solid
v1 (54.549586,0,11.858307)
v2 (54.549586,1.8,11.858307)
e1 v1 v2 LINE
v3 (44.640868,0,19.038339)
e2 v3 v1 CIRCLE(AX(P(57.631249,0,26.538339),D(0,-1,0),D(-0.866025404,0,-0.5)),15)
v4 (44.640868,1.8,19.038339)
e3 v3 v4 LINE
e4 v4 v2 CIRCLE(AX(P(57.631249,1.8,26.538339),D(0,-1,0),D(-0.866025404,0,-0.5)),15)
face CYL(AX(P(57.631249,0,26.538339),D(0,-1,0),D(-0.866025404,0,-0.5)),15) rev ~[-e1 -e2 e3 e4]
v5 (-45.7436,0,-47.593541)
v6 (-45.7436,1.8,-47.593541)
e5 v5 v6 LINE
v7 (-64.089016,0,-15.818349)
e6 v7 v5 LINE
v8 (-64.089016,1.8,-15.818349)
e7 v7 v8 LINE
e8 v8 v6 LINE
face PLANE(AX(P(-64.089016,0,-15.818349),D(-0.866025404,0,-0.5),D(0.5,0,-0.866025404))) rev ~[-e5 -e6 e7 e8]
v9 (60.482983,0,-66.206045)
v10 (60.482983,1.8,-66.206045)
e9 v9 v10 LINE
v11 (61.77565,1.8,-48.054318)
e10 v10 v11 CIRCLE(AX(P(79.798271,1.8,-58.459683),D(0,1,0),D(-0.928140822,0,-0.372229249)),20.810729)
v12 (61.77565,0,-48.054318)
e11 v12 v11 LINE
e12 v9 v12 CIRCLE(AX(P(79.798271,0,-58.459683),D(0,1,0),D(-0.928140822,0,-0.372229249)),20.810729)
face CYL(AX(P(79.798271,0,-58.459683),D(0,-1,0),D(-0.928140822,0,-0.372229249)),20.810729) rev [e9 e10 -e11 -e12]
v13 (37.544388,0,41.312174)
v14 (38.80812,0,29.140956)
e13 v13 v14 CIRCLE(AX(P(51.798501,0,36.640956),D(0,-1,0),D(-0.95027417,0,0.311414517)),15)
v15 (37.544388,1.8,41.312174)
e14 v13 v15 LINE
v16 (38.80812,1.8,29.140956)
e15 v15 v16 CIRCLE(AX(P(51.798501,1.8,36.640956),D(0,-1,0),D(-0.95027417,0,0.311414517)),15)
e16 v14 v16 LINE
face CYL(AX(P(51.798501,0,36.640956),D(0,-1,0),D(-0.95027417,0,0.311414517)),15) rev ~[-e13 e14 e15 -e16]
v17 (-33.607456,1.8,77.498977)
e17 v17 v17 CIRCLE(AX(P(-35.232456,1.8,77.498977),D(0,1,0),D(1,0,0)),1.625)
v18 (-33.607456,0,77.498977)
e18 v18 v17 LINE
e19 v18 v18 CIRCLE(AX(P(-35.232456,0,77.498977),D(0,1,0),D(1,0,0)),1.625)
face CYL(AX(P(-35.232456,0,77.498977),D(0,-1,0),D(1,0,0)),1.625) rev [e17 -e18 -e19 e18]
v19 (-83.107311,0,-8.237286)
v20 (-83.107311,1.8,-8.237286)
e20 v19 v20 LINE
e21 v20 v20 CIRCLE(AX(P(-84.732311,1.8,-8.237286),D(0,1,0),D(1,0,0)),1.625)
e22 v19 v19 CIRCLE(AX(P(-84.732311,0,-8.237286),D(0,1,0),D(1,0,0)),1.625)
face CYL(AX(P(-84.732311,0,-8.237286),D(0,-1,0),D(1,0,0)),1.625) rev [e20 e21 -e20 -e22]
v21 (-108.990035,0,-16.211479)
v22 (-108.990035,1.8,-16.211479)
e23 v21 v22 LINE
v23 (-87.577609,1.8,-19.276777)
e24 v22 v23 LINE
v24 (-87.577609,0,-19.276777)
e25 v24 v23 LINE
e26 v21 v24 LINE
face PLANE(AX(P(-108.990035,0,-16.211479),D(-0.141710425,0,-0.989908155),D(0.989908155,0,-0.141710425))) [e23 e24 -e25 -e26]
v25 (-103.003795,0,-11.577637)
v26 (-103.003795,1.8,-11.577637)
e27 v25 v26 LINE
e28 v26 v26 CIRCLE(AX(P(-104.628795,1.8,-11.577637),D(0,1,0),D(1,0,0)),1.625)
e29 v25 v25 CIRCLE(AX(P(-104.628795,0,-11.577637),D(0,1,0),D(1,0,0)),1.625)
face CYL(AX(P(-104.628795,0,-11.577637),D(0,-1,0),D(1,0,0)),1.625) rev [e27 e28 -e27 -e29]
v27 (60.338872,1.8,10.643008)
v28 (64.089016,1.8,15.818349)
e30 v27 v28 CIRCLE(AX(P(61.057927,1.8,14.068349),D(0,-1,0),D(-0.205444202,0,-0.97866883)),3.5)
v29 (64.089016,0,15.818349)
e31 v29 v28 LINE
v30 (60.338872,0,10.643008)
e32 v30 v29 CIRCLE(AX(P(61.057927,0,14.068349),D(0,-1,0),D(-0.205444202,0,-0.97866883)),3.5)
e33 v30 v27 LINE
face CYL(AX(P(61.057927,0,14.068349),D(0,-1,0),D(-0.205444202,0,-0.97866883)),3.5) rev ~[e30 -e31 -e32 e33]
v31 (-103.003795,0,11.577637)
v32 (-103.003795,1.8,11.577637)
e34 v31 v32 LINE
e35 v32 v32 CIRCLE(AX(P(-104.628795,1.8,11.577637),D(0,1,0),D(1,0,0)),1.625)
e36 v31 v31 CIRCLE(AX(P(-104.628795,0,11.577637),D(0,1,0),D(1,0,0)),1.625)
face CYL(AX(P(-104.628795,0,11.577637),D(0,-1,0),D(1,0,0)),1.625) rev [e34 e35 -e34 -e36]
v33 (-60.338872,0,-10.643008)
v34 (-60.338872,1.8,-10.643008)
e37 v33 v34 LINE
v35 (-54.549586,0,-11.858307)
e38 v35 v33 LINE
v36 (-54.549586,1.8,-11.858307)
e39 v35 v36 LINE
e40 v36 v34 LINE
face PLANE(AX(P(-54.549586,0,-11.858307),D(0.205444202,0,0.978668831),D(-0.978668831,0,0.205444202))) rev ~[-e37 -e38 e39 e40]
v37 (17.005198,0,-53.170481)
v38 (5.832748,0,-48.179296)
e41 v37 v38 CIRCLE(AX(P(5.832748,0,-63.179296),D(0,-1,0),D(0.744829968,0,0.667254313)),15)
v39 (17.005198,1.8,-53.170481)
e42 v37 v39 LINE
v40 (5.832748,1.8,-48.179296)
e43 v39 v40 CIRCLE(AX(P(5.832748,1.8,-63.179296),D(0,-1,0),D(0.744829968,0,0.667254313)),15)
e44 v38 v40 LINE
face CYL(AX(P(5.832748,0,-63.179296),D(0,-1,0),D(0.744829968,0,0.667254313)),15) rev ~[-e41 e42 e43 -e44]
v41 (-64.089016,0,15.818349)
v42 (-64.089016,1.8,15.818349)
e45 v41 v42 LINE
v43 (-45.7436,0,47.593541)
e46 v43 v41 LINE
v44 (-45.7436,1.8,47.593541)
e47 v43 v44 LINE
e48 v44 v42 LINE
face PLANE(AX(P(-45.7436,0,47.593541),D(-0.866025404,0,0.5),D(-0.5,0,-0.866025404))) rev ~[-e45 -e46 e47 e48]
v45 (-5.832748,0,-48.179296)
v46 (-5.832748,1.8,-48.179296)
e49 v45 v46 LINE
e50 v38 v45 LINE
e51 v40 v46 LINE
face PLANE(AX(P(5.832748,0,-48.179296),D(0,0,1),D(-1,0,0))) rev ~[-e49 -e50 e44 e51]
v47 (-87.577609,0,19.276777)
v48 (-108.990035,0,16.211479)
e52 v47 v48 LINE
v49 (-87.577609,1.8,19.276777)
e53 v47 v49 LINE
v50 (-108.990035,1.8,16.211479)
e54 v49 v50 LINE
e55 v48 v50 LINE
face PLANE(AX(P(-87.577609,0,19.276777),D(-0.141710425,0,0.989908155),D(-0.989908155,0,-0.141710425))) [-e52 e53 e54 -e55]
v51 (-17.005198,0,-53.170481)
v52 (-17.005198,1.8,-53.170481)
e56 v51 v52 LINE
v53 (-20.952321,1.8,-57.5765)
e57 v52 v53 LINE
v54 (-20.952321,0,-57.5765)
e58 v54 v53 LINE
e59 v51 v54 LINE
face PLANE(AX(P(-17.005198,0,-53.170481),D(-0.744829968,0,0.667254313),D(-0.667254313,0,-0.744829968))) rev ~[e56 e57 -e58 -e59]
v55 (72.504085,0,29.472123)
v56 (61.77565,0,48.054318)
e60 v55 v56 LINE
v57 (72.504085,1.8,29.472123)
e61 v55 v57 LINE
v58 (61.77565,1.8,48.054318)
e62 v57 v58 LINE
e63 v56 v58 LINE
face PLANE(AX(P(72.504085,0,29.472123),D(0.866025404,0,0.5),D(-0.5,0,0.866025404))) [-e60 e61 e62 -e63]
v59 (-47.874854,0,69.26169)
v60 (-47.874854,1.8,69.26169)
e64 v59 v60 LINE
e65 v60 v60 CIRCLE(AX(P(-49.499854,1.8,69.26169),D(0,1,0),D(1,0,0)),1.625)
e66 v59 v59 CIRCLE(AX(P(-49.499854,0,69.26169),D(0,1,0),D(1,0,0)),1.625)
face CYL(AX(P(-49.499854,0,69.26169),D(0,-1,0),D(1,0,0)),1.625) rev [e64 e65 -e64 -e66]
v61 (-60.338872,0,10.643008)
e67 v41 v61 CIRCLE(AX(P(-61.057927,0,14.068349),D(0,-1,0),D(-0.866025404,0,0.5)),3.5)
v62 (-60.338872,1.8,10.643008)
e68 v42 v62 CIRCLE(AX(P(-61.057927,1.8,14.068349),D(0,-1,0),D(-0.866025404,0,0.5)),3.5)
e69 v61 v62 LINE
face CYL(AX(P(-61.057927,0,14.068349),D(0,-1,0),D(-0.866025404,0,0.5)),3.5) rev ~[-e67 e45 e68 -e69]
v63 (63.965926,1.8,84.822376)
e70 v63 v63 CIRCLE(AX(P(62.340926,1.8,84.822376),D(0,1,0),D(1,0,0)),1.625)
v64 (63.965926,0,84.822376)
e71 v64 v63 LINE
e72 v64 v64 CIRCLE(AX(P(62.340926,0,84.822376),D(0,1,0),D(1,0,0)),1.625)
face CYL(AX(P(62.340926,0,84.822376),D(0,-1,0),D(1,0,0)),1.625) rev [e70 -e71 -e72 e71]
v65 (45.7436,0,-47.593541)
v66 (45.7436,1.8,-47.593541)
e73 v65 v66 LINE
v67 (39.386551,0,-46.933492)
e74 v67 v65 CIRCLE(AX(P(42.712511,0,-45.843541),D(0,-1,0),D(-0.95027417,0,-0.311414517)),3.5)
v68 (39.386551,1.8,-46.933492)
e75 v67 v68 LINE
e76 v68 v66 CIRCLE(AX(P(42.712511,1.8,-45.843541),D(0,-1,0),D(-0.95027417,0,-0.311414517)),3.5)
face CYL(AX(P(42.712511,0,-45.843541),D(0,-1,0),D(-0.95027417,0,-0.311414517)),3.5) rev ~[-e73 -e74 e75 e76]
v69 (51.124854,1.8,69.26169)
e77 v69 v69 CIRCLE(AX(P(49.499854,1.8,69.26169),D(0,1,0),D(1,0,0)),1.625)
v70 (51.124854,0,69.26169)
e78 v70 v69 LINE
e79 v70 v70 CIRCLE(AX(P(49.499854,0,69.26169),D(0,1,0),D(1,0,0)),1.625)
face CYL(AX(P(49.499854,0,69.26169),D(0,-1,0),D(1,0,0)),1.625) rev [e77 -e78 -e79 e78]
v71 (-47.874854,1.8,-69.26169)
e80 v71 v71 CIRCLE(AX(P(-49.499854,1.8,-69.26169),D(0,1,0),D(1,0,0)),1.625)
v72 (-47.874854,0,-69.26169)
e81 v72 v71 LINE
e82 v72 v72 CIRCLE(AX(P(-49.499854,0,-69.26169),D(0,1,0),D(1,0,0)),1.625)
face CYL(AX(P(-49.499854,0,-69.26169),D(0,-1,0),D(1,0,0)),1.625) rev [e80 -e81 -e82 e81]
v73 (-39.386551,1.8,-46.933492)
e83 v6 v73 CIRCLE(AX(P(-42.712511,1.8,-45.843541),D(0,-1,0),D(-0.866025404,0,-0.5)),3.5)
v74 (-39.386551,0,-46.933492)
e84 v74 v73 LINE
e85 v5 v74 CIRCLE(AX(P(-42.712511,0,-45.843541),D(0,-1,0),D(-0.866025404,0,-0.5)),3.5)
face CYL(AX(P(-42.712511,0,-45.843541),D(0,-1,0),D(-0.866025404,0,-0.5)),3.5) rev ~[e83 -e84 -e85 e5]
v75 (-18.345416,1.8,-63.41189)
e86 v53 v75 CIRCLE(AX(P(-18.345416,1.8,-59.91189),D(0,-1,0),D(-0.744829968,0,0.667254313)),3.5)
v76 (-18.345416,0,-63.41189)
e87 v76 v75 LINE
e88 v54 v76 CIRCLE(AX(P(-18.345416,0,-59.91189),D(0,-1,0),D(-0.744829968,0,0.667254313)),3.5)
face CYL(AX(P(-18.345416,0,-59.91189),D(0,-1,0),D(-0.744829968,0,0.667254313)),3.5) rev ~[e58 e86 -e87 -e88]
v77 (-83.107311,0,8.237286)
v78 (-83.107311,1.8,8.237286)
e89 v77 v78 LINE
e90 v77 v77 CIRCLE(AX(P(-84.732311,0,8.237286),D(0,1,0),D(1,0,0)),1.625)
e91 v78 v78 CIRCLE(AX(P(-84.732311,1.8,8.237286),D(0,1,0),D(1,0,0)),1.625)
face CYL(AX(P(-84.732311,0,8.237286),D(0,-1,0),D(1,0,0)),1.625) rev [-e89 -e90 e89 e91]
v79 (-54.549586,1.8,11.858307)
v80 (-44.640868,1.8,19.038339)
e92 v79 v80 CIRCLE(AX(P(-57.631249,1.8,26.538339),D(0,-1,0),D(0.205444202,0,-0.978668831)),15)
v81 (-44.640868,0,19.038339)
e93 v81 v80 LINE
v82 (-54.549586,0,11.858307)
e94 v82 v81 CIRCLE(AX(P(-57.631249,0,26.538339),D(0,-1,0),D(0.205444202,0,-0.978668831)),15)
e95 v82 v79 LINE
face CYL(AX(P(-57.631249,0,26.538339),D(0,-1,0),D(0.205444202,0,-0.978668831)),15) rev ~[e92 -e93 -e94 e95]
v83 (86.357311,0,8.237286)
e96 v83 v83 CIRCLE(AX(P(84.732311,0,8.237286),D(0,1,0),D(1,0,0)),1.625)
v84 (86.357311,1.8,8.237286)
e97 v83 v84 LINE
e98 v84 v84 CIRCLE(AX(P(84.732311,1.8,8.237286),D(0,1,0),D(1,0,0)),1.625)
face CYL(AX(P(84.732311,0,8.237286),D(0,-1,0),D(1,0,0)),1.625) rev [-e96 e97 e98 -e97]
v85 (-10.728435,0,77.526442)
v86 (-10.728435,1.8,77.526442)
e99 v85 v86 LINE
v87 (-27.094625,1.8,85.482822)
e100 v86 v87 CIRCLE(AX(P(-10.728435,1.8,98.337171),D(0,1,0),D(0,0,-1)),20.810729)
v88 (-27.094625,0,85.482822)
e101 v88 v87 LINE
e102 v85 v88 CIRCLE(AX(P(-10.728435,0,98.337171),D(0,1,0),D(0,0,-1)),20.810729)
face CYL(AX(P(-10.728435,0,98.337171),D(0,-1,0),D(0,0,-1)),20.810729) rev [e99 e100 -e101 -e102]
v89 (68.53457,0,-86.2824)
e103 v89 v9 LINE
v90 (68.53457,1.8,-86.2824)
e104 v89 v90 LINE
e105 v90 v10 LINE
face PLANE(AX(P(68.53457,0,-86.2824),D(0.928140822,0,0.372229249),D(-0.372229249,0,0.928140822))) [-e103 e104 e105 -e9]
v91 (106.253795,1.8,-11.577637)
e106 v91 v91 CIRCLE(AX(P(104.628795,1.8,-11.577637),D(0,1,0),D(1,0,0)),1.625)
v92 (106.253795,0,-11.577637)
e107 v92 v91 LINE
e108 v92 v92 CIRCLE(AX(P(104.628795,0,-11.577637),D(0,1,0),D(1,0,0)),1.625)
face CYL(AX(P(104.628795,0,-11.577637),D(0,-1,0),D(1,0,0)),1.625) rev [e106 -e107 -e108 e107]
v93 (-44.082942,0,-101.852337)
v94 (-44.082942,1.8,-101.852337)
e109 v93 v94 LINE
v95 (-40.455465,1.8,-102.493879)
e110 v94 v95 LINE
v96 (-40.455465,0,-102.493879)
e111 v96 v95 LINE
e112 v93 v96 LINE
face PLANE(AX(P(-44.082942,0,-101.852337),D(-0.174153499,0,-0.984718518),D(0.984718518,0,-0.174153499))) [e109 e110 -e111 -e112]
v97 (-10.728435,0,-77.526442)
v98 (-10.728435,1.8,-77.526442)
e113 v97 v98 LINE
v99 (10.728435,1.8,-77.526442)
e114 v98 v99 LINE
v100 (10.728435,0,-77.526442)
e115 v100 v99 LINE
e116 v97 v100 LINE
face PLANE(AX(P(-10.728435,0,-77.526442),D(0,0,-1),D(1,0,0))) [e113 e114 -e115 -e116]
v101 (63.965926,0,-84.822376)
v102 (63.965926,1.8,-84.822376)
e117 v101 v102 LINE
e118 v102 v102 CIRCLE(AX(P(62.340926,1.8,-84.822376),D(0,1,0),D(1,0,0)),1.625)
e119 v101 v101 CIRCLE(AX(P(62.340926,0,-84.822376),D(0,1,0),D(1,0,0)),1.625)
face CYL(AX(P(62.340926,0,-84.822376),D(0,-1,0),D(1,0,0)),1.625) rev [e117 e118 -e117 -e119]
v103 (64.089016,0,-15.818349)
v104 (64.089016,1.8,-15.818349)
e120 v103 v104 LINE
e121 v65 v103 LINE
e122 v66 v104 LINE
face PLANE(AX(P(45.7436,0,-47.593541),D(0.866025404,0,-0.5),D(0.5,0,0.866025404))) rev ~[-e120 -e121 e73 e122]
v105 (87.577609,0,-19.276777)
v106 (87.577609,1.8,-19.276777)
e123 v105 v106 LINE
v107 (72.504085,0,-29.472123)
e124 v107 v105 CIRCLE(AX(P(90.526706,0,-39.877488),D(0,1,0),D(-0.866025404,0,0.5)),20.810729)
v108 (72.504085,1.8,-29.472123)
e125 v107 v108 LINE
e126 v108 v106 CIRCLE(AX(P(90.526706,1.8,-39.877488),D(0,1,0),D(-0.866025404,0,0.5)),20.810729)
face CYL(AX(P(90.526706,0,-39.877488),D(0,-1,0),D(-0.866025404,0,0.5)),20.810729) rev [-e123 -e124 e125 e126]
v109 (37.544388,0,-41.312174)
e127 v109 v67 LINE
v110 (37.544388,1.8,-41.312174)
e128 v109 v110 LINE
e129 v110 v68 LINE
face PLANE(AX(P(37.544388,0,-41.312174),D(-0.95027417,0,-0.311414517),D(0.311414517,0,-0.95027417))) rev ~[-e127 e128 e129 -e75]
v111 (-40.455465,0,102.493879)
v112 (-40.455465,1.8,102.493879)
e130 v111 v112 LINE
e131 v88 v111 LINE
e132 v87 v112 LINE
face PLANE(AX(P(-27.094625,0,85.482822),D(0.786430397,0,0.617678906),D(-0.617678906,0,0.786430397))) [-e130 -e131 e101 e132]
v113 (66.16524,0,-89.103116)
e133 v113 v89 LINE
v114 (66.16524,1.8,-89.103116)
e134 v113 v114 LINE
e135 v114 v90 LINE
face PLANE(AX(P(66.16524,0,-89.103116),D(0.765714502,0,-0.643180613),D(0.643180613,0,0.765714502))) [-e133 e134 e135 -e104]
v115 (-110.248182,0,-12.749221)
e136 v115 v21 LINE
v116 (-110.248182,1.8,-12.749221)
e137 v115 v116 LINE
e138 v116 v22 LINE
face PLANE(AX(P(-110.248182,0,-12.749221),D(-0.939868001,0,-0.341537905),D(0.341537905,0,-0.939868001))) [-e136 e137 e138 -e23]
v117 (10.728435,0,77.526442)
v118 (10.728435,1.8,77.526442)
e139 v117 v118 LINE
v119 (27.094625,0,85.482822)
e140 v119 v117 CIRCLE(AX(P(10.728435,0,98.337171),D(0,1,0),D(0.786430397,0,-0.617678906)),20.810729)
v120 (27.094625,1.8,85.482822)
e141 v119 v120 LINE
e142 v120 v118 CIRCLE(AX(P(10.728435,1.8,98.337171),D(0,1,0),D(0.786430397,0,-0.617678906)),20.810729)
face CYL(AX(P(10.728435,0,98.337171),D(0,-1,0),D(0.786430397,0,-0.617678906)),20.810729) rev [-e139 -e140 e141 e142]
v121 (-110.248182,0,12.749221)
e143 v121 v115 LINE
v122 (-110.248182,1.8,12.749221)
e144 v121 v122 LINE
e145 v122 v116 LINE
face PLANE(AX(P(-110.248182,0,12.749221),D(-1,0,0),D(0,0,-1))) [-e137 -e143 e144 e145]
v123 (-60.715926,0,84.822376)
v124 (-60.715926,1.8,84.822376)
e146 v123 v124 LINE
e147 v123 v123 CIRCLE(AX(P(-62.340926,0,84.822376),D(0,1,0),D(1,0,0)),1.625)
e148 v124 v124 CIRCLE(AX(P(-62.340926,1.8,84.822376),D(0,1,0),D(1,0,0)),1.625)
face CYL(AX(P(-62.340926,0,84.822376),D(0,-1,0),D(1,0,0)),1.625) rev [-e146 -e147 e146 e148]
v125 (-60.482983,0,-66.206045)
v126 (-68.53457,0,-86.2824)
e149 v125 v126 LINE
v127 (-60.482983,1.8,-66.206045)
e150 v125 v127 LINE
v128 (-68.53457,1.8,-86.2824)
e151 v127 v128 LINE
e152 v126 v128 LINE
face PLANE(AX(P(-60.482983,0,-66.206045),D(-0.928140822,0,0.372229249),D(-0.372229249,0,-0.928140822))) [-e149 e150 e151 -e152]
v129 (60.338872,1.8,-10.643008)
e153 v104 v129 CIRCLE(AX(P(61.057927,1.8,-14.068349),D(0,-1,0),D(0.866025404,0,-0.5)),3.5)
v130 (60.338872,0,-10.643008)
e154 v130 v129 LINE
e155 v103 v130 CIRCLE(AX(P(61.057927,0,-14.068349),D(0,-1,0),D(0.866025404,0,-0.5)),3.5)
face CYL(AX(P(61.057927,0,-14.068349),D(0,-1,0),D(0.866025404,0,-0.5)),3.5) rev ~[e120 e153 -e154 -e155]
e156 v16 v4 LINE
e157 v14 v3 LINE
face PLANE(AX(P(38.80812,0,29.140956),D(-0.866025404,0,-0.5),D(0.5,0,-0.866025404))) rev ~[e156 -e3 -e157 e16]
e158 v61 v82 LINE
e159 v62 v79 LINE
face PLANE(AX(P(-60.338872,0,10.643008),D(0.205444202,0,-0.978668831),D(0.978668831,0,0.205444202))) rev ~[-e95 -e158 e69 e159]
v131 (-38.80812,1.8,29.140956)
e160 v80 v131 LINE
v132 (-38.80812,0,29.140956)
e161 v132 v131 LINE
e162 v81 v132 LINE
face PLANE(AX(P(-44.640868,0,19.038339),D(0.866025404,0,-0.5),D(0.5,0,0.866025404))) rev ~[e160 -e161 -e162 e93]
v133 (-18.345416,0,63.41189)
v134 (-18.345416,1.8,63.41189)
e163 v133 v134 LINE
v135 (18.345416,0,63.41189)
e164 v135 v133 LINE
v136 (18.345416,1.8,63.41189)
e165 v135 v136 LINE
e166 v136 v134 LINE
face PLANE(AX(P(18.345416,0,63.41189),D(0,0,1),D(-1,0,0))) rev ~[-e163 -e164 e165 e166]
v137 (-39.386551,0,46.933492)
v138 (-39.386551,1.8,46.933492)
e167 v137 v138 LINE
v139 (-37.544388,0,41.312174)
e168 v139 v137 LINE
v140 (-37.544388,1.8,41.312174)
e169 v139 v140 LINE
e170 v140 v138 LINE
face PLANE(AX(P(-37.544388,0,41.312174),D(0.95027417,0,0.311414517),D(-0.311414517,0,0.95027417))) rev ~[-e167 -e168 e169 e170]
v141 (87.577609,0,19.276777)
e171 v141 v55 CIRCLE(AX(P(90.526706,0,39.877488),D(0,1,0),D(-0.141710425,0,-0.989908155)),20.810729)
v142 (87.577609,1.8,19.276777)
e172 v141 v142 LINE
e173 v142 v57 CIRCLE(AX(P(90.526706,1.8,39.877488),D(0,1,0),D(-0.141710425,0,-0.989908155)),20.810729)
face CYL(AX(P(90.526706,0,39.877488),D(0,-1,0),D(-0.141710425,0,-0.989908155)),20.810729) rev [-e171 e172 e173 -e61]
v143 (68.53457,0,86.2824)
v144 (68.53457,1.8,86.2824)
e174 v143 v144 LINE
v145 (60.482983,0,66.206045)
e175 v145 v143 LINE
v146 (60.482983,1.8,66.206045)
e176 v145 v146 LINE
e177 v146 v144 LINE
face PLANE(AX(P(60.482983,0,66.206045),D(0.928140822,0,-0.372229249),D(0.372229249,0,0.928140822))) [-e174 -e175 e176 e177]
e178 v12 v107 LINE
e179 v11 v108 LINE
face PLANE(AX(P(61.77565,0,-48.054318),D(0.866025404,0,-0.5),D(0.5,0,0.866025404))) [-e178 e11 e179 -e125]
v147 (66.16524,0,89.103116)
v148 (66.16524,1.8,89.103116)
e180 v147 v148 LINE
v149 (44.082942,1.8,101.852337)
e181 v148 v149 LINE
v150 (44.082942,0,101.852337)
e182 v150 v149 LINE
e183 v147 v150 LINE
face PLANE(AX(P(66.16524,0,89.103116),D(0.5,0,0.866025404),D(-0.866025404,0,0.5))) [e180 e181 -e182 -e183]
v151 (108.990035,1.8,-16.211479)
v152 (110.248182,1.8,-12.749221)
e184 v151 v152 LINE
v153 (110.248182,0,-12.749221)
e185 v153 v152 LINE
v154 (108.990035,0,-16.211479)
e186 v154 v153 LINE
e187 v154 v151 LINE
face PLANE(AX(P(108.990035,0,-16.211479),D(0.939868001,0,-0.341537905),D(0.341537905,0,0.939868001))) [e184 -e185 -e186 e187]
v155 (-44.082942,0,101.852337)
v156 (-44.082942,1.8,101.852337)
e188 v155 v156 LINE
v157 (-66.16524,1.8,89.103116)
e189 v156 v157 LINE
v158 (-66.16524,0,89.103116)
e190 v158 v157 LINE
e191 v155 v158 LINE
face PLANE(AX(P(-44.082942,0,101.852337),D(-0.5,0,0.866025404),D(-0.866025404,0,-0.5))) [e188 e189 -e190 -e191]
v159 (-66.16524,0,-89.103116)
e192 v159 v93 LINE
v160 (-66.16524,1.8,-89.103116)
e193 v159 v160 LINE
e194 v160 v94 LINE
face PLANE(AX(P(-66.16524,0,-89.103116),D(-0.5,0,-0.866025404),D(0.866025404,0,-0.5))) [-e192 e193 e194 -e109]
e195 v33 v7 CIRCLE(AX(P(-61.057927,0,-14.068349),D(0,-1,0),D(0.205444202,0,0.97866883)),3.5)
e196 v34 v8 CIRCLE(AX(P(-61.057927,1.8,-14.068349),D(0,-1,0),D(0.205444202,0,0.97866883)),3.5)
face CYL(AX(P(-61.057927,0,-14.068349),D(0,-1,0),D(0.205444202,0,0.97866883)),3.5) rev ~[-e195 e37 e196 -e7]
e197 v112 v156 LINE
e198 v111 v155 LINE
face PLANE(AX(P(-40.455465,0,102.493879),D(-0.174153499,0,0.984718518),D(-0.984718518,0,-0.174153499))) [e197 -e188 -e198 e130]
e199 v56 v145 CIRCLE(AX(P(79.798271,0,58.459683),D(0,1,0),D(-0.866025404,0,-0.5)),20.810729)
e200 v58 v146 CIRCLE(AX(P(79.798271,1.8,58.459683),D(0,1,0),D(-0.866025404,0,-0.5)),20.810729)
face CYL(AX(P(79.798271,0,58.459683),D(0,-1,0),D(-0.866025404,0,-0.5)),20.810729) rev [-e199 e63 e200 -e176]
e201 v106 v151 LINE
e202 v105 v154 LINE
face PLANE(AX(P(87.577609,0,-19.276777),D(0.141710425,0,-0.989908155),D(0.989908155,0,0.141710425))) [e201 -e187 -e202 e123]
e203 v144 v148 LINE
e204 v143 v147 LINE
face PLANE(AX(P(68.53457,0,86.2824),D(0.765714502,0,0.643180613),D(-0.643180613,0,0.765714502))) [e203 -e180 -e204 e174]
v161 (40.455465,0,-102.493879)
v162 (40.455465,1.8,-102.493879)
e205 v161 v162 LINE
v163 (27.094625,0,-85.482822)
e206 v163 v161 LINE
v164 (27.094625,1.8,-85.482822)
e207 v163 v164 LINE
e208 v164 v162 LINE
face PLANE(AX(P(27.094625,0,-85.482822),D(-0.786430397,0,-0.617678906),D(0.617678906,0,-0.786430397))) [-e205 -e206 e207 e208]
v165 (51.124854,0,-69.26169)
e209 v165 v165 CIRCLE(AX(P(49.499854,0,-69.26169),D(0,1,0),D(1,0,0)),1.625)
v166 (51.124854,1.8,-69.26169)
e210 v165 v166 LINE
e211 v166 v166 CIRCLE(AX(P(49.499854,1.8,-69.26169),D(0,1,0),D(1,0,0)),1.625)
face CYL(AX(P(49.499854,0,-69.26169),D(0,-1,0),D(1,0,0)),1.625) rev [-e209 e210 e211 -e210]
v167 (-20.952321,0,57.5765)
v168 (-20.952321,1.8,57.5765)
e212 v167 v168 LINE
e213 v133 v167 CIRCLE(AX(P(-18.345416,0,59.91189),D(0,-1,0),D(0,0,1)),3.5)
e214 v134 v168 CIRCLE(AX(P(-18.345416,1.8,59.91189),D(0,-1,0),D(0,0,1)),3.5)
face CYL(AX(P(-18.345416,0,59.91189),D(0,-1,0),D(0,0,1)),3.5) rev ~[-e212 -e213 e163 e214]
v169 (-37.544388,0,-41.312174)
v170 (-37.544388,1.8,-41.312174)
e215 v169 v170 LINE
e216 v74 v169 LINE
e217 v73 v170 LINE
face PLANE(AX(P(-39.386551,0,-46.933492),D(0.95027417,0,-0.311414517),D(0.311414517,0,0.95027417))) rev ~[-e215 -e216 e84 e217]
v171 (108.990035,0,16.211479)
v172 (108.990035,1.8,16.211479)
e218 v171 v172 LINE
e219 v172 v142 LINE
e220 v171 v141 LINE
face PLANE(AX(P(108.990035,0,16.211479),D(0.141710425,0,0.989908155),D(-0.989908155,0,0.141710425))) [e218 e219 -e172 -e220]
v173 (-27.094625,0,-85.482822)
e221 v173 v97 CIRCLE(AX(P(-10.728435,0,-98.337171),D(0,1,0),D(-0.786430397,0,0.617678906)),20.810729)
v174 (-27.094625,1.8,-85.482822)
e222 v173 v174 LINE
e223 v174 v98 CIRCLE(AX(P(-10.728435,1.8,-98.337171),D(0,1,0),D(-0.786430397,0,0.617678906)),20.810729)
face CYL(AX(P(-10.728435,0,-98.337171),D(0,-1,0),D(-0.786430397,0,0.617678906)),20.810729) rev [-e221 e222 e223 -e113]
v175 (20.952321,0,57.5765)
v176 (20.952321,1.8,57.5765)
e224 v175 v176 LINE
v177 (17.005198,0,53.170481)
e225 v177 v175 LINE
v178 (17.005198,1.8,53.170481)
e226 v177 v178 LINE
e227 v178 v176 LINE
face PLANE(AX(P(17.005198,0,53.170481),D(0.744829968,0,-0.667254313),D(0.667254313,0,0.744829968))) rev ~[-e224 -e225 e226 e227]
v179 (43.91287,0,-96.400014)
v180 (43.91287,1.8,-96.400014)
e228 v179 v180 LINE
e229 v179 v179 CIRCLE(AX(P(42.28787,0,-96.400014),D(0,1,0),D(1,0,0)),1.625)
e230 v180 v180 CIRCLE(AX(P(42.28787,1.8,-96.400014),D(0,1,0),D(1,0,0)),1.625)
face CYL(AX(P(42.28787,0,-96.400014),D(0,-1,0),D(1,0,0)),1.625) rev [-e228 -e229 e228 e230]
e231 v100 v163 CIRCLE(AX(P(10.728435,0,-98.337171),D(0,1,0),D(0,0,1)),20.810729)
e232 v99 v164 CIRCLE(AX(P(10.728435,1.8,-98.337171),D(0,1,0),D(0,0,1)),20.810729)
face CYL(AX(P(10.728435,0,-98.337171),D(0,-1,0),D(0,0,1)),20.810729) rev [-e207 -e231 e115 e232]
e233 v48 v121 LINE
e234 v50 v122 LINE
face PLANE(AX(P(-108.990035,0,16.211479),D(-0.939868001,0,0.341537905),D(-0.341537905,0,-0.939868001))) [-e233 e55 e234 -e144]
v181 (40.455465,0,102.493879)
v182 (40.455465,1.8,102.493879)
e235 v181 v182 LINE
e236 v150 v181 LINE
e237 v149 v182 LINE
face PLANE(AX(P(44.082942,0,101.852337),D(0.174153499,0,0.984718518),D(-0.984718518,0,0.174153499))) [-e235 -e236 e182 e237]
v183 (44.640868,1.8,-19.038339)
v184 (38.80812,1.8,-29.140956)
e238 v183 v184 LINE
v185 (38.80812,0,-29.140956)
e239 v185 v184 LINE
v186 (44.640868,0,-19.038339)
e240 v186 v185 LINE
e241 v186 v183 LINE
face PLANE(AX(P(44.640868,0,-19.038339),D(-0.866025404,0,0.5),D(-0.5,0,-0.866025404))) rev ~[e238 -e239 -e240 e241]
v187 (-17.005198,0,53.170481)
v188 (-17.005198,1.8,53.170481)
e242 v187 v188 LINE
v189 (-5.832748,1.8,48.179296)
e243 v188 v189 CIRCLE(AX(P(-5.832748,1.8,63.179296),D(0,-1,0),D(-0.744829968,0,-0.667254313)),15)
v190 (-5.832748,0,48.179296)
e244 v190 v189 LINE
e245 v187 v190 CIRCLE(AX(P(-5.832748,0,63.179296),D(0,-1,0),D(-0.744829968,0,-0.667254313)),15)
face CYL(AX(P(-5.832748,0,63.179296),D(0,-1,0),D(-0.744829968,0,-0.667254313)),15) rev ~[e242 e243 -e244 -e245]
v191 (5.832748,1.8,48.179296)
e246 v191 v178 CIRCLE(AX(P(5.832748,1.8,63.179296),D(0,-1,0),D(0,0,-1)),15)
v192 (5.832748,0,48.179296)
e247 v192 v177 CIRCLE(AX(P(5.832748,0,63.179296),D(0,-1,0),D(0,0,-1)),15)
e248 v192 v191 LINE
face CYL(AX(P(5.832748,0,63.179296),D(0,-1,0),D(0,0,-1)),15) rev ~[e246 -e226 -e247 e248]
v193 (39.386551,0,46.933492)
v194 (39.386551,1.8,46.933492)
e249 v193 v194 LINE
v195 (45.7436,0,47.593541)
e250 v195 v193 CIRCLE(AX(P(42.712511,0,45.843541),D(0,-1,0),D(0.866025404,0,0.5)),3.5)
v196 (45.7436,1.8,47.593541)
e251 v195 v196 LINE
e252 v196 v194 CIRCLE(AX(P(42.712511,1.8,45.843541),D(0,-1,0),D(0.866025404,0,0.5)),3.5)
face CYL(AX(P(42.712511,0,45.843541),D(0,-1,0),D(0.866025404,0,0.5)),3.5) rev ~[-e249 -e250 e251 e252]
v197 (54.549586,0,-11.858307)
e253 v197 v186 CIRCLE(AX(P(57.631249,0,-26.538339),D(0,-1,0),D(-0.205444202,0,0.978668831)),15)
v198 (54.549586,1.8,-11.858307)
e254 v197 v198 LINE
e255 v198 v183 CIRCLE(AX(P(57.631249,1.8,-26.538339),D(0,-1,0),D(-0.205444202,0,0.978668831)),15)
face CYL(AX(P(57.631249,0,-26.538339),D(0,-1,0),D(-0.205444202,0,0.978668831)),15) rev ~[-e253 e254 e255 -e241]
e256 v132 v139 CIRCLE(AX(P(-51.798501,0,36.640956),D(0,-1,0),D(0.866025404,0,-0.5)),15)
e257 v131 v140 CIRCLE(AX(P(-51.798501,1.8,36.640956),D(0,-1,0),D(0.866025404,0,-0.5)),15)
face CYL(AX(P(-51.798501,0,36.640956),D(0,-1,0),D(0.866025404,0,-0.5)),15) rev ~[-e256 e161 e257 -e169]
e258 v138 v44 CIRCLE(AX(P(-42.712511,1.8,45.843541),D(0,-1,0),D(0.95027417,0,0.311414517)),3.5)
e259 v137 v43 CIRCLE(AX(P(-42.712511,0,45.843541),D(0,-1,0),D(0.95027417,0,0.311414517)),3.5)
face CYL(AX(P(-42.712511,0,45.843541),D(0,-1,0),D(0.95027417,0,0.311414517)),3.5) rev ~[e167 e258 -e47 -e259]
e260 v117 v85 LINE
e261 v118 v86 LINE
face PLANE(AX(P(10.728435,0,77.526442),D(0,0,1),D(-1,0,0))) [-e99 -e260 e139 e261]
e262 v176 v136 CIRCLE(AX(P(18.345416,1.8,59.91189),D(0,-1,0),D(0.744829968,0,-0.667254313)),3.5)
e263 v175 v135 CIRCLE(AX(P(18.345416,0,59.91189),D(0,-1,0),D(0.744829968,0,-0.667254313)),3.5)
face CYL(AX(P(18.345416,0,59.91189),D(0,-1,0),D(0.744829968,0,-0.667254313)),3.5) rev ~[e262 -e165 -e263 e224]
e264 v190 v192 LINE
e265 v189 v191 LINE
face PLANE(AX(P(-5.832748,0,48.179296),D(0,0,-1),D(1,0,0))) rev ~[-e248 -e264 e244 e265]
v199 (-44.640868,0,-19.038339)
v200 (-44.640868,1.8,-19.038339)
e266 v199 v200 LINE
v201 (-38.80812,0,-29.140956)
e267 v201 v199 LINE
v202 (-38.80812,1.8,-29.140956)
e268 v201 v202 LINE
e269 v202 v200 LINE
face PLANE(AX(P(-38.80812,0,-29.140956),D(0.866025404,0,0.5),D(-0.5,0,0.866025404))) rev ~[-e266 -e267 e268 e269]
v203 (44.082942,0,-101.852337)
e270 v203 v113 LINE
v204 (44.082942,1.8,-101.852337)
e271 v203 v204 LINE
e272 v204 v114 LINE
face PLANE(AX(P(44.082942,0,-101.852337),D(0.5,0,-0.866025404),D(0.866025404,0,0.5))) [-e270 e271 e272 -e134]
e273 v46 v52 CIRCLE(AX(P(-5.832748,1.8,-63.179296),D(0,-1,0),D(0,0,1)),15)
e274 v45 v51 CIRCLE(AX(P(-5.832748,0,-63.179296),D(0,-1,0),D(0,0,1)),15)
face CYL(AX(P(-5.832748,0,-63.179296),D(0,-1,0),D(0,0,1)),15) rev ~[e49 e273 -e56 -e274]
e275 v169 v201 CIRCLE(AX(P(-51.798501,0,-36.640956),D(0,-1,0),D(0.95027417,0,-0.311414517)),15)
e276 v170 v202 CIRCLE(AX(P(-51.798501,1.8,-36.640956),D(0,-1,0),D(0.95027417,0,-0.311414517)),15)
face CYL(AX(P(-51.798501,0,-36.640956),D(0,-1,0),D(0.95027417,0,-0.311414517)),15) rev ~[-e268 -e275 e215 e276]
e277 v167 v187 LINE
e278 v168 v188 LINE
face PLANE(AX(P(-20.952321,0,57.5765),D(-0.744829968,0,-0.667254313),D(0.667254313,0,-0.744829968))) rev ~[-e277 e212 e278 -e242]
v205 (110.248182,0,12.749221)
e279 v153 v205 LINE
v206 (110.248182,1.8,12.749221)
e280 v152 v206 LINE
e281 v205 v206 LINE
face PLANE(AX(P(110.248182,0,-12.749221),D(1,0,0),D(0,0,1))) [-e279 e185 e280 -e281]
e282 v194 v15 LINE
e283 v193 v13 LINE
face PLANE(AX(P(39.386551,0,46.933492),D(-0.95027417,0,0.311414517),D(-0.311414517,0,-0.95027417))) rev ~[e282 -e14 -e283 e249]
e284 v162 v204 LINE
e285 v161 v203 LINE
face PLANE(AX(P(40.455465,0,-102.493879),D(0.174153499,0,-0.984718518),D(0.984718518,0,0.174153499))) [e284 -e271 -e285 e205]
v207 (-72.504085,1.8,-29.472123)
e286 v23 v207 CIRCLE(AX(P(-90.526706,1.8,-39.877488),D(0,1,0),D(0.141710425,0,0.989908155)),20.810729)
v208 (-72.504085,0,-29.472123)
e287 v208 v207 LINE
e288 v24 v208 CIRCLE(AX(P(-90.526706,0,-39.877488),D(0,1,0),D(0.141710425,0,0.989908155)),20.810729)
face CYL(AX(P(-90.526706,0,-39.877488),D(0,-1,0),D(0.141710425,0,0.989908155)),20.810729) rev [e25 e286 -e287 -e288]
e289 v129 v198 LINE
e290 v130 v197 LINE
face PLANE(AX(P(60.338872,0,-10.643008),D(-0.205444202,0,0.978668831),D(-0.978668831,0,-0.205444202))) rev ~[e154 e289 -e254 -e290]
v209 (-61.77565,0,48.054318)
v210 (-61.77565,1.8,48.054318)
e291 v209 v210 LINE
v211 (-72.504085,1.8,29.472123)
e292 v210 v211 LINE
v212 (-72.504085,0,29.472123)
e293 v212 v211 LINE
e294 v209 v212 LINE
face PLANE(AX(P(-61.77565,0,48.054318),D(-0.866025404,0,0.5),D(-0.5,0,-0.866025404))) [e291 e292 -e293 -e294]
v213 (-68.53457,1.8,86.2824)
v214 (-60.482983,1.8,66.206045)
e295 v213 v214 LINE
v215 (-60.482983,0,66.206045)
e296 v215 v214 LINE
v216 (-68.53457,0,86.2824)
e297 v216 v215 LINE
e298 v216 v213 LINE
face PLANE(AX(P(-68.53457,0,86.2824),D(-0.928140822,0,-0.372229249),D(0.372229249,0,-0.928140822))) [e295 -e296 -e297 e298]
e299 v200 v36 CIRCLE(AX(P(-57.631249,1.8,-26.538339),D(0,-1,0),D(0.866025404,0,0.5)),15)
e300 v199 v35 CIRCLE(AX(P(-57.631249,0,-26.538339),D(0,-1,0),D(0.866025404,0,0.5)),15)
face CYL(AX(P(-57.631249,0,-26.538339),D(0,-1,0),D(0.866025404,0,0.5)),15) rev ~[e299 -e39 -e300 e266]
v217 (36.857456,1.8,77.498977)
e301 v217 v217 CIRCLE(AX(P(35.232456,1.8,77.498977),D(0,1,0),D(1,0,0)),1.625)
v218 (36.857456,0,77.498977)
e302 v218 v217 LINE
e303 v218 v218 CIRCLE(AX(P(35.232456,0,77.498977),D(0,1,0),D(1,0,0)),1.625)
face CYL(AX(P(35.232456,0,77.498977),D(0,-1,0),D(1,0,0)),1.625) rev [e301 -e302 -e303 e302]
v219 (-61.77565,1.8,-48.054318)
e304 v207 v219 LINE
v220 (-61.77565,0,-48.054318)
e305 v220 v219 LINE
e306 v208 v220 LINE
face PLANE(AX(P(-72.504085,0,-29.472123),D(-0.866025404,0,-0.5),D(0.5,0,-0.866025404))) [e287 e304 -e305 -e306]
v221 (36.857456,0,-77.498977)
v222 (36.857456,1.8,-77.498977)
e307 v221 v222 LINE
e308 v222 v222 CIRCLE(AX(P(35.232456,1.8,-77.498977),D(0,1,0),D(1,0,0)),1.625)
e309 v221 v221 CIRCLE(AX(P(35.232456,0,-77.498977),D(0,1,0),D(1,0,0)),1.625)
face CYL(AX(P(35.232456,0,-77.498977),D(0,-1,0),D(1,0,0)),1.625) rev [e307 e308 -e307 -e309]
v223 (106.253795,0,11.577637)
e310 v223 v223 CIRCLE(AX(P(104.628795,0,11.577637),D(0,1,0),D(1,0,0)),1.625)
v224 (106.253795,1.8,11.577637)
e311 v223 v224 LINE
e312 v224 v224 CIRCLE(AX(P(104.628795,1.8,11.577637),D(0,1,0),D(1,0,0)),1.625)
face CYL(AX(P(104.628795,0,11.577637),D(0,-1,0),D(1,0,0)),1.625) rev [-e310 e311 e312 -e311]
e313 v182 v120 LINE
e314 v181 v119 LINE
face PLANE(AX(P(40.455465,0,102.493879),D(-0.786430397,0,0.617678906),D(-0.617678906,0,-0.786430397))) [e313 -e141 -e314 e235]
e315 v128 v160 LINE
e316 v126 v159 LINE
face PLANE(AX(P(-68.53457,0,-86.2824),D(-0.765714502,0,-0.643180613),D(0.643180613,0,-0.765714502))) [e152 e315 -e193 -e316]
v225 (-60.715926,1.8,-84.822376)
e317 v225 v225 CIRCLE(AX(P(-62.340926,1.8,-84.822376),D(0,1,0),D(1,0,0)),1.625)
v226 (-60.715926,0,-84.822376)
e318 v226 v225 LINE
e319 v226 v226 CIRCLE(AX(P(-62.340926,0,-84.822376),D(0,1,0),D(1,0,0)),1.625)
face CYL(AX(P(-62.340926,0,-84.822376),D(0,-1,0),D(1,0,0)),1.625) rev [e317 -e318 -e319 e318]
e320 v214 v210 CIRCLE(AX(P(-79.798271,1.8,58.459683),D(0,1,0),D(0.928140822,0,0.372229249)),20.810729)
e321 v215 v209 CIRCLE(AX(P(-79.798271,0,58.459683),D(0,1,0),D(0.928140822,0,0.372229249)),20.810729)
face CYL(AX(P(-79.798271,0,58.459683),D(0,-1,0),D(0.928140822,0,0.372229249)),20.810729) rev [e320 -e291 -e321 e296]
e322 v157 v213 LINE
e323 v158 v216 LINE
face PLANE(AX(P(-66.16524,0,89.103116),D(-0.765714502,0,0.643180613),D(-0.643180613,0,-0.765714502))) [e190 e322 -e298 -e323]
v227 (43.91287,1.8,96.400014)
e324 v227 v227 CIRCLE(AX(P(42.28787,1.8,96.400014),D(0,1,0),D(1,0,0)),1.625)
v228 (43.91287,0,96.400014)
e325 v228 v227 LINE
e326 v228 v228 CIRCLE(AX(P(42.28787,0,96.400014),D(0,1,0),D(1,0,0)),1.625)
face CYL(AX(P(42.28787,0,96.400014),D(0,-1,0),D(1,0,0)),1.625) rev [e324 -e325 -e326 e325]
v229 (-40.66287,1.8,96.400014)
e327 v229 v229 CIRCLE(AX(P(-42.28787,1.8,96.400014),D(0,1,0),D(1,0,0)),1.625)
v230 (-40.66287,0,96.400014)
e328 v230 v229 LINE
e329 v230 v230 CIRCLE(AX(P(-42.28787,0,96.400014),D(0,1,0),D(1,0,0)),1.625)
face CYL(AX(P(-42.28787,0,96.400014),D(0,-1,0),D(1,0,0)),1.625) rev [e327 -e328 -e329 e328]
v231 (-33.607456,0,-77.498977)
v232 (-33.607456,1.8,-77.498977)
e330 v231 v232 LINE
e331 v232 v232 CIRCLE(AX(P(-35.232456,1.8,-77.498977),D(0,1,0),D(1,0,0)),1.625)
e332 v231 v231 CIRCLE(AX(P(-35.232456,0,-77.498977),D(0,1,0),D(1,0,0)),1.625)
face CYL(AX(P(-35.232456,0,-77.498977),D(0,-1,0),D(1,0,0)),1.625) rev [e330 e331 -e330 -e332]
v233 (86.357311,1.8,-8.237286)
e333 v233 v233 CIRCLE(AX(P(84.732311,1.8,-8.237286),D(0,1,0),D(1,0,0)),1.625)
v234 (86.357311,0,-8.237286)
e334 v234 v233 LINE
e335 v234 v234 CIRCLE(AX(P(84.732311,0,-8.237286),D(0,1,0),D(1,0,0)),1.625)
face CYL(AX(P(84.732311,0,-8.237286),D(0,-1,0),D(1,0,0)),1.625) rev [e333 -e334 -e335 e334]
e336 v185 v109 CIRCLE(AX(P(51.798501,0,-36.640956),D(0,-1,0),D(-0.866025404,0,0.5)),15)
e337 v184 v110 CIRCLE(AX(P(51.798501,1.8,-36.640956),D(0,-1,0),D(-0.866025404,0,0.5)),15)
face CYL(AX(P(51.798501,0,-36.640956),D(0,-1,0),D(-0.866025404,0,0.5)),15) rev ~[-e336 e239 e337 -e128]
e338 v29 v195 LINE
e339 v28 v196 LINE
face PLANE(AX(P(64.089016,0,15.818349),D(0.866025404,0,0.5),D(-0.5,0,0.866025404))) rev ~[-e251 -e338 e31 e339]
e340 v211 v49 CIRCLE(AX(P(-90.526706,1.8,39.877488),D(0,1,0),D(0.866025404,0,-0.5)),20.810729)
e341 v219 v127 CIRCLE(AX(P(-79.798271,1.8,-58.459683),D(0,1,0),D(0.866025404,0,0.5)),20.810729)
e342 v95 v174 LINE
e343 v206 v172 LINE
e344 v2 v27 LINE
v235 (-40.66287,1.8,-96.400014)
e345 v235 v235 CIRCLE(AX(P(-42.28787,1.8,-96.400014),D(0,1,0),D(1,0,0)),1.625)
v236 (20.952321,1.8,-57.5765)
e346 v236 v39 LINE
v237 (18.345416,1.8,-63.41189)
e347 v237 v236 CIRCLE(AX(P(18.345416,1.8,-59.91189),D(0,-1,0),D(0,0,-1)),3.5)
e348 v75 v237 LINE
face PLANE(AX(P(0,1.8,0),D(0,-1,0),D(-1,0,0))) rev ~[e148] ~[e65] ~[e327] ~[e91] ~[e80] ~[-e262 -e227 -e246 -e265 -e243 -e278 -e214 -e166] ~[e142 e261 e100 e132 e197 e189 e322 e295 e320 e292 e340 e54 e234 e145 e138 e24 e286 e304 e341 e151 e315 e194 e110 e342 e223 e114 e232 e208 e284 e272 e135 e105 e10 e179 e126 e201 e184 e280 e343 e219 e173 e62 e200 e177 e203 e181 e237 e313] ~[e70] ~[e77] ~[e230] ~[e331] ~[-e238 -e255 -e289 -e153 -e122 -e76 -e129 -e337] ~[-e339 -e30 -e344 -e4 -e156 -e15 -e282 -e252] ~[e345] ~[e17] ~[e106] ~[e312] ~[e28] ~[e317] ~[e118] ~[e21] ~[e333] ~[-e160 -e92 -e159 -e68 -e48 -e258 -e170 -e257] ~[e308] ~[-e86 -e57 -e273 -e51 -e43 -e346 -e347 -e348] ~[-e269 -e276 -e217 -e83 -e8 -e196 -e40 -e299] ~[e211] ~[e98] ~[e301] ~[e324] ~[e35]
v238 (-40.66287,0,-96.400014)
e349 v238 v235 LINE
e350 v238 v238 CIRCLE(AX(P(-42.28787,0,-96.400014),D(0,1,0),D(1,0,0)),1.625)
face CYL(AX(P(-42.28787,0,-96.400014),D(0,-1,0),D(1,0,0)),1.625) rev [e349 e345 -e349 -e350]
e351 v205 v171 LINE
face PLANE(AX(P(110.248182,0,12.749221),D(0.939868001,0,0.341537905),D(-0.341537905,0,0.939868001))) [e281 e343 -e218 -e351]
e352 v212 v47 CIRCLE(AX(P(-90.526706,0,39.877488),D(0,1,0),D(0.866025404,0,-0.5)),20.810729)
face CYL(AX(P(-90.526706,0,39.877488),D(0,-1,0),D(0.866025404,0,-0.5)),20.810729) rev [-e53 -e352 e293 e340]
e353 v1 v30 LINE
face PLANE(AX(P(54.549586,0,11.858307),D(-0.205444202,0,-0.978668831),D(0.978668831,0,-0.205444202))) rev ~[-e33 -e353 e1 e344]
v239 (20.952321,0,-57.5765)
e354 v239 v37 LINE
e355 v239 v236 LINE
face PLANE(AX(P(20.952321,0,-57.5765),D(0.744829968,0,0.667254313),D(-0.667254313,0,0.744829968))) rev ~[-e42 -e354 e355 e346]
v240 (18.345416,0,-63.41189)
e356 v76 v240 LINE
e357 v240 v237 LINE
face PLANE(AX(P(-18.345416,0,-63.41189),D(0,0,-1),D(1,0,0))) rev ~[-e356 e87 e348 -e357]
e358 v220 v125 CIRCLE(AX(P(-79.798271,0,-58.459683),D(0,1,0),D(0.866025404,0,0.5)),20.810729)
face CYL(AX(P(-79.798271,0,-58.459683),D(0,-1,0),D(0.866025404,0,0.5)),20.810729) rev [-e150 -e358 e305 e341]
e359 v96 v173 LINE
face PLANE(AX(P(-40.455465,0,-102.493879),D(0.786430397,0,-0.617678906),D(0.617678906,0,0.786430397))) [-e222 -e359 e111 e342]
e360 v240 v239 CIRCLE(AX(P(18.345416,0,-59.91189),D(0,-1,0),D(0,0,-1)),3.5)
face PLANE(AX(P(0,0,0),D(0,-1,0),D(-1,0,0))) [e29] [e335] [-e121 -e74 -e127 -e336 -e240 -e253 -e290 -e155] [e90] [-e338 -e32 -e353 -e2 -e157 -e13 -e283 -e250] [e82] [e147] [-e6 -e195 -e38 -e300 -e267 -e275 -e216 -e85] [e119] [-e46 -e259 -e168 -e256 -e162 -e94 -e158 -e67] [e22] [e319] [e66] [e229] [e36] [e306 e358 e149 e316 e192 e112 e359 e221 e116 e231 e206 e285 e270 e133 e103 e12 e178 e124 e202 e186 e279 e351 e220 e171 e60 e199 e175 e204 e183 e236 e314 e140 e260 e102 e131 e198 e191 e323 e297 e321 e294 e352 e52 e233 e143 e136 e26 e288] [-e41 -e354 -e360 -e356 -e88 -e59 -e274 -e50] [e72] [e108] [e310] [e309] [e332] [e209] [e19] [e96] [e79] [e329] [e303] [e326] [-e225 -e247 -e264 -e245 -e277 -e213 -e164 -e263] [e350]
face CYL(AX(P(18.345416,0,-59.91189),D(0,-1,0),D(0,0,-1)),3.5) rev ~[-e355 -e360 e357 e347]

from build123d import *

# Parameters (mm, degrees)
MODEL_R             = 1.625
BOSS_EXTRUDE1_DEPTH = 1.8


with BuildPart() as part:
    # Model → Boss-Extrude1 (new body)
    with BuildSketch(Plane(origin=(0, 0, 0), x_dir=(1, 0, 0), z_dir=(0, 1, 0))):
        with BuildLine():
            Line((-40.455465124, -102.493878505), (-44.082941678, -101.852337067))
            Line((-44.082941678, -101.852337067), (-66.165240495, -89.1031159))
            Line((-66.165240495, -89.1031159), (-68.534569956, -86.282399772))
            Line((-68.534569956, -86.282399772), (-60.482983119, -66.206045102))
            ThreePointArc((-60.482983119, -66.206045102), (-59.040112281, -56.981399894), (-61.775650285, -48.054318215))
            Line((-61.775650285, -48.054318215), (-72.504085478, -29.472123375))
            ThreePointArc((-72.504085478, -29.472123375), (-78.867395992, -22.639537131), (-87.577608502, -19.276777327))
            Line((-87.577608502, -19.276777327), (-108.99003508, -16.211478733))
            Line((-108.99003508, -16.211478733), (-110.248182174, -12.749221166))
            Line((-110.248182174, -12.749221166), (-110.248182174, 12.749221166))
            Line((-110.248182174, 12.749221166), (-108.99003508, 16.211478733))
            Line((-108.99003508, 16.211478733), (-87.577608502, 19.276777327))
            ThreePointArc((-87.577608502, 19.276777327), (-78.867395992, 22.639537131), (-72.504085478, 29.472123375))
            Line((-72.504085478, 29.472123375), (-61.775650285, 48.054318215))
            ThreePointArc((-61.775650285, 48.054318215), (-59.040112281, 56.981399894), (-60.482983119, 66.206045102))
            Line((-60.482983119, 66.206045102), (-68.534569956, 86.282399772))
            Line((-68.534569956, 86.282399772), (-66.165240495, 89.1031159))
            Line((-66.165240495, 89.1031159), (-44.082941678, 101.852337067))
            Line((-44.082941678, 101.852337067), (-40.455465124, 102.493878505))
            Line((-40.455465124, 102.493878505), (-27.094625382, 85.482822428))
            ThreePointArc((-27.094625382, 85.482822428), (-19.82728371, 79.620937024), (-10.728435193, 77.52644159))
            Line((-10.728435193, 77.52644159), (10.728435194, 77.52644159))
            ThreePointArc((10.728435194, 77.52644159), (19.827283711, 79.620937024), (27.094625383, 85.482822428))
            Line((27.094625383, 85.482822428), (40.455465125, 102.493878505))
            Line((40.455465125, 102.493878505), (44.082941679, 101.852337067))
            Line((44.082941679, 101.852337067), (66.165240496, 89.1031159))
            Line((66.165240496, 89.1031159), (68.534569957, 86.282399772))
            Line((68.534569957, 86.282399772), (60.48298312, 66.206045102))
            ThreePointArc((60.48298312, 66.206045102), (59.040112282, 56.981399894), (61.775650286, 48.054318215))
            Line((61.775650286, 48.054318215), (72.504085479, 29.472123375))
            ThreePointArc((72.504085479, 29.472123375), (78.867395993, 22.639537131), (87.577608503, 19.276777327))
            Line((87.577608503, 19.276777327), (108.990035081, 16.211478733))
            Line((108.990035081, 16.211478733), (110.248182175, 12.749221166))
            Line((110.248182175, 12.749221166), (110.248182175, -12.749221166))
            Line((110.248182175, -12.749221166), (108.990035081, -16.211478733))
            Line((108.990035081, -16.211478733), (87.577608503, -19.276777327))
            ThreePointArc((87.577608503, -19.276777327), (78.867395993, -22.639537131), (72.504085479, -29.472123375))
            Line((72.504085479, -29.472123375), (61.775650286, -48.054318215))
            ThreePointArc((61.775650286, -48.054318215), (59.040112282, -56.981399894), (60.48298312, -66.206045102))
            Line((60.48298312, -66.206045102), (68.534569957, -86.282399772))
            Line((68.534569957, -86.282399772), (66.165240496, -89.1031159))
            Line((66.165240496, -89.1031159), (44.082941679, -101.852337067))
            Line((44.082941679, -101.852337067), (40.455465125, -102.493878505))
            Line((40.455465125, -102.493878505), (27.094625383, -85.482822428))
            ThreePointArc((27.094625383, -85.482822428), (19.827283711, -79.620937024), (10.728435194, -77.52644159))
            Line((10.728435194, -77.52644159), (-10.728435193, -77.52644159))
            ThreePointArc((-10.728435193, -77.52644159), (-19.82728371, -79.620937024), (-27.094625382, -85.482822428))
            Line((-27.094625382, -85.482822428), (-40.455465124, -102.493878505))
        make_face()
        with Locations((49.499854453, -69.261690272)):
            Circle(MODEL_R, mode=Mode.SUBTRACT)
        with Locations((35.232456058, -77.498976576)):
            Circle(MODEL_R, mode=Mode.SUBTRACT)
        with Locations((42.287869593, -96.400013533)):
            Circle(MODEL_R, mode=Mode.SUBTRACT)
        with Locations((62.340925848, -84.822376106)):
            Circle(MODEL_R, mode=Mode.SUBTRACT)
        with Locations((84.732310511, 8.237286304)):
            Circle(MODEL_R, mode=Mode.SUBTRACT)
        with Locations((84.732310511, -8.237286304)):
            Circle(MODEL_R, mode=Mode.SUBTRACT)
        with Locations((104.628795441, -11.577637427)):
            Circle(MODEL_R, mode=Mode.SUBTRACT)
        with Locations((104.628795441, 11.577637427)):
            Circle(MODEL_R, mode=Mode.SUBTRACT)
        with Locations((35.232456058, 77.498976576)):
            Circle(MODEL_R, mode=Mode.SUBTRACT)
        with Locations((49.499854453, 69.261690272)):
            Circle(MODEL_R, mode=Mode.SUBTRACT)
        with Locations((62.340925848, 84.822376106)):
            Circle(MODEL_R, mode=Mode.SUBTRACT)
        with Locations((42.287869593, 96.400013533)):
            Circle(MODEL_R, mode=Mode.SUBTRACT)
        with Locations((-49.499854453, 69.261690272)):
            Circle(MODEL_R, mode=Mode.SUBTRACT)
        with Locations((-35.232456058, 77.498976576)):
            Circle(MODEL_R, mode=Mode.SUBTRACT)
        with Locations((-42.287869593, 96.400013533)):
            Circle(MODEL_R, mode=Mode.SUBTRACT)
        with Locations((-62.340925848, 84.822376106)):
            Circle(MODEL_R, mode=Mode.SUBTRACT)
        with Locations((-84.732310511, -8.237286304)):
            Circle(MODEL_R, mode=Mode.SUBTRACT)
        with Locations((-84.732310511, 8.237286304)):
            Circle(MODEL_R, mode=Mode.SUBTRACT)
        with Locations((-104.628795441, 11.577637427)):
            Circle(MODEL_R, mode=Mode.SUBTRACT)
        with Locations((-104.628795441, -11.577637427)):
            Circle(MODEL_R, mode=Mode.SUBTRACT)
        with Locations((-35.232456058, -77.498976576)):
            Circle(MODEL_R, mode=Mode.SUBTRACT)
        with Locations((-49.499854453, -69.261690272)):
            Circle(MODEL_R, mode=Mode.SUBTRACT)
        with Locations((-62.340925848, -84.822376106)):
            Circle(MODEL_R, mode=Mode.SUBTRACT)
        with Locations((-42.287869593, -96.400013533)):
            Circle(MODEL_R, mode=Mode.SUBTRACT)
        with BuildLine():
            Line((18.345415848, -63.41189018), (-18.345415848, -63.41189018))
            ThreePointArc((-18.345415848, -63.41189018), (-21.541027318, -61.339499135), (-20.952320736, -57.576500083))
            Line((-20.952320736, -57.576500083), (-17.005197982, -53.170480885))
            ThreePointArc((-17.005197982, -53.170480885), (-11.951072558, -49.483817856), (-5.832748462, -48.179295586))
            Line((-5.832748462, -48.179295586), (5.832748462, -48.179295586))
            ThreePointArc((5.832748462, -48.179295586), (11.951072558, -49.483817856), (17.005197983, -53.170480885))
            Line((17.005197983, -53.170480885), (20.952320736, -57.576500083))
            ThreePointArc((20.952320736, -57.576500083), (21.541027318, -61.339499135), (18.345415848, -63.41189018))
        make_face(mode=Mode.SUBTRACT)
        with BuildLine():
            Line((64.089015721, -15.818348922), (45.743599874, -47.593541257))
            ThreePointArc((45.743599874, -47.593541257), (42.351050848, -49.324826449), (39.386551365, -46.933492067))
            Line((39.386551365, -46.933492067), (37.544388187, -41.312173892))
            ThreePointArc((37.544388187, -41.312173892), (36.87870706, -35.091841366), (38.808119683, -29.140956135))
            Line((38.808119683, -29.140956135), (44.640868145, -19.038339451))
            ThreePointArc((44.640868145, -19.038339451), (48.829779618, -14.39197649), (54.549586169, -11.858306993))
            Line((54.549586169, -11.858306993), (60.338872101, -10.643008016))
            ThreePointArc((60.338872101, -10.643008016), (63.892078166, -12.014672686), (64.089015721, -15.818348922))
        make_face(mode=Mode.SUBTRACT)
        with BuildLine():
            Line((45.743599874, 47.593541257), (64.089015721, 15.818348922))
            ThreePointArc((64.089015721, 15.818348922), (63.892078166, 12.014672686), (60.338872101, 10.643008016))
            Line((60.338872101, 10.643008016), (54.549586169, 11.858306993))
            ThreePointArc((54.549586169, 11.858306993), (48.829779618, 14.39197649), (44.640868145, 19.038339451))
            Line((44.640868145, 19.038339451), (38.808119683, 29.140956135))
            ThreePointArc((38.808119683, 29.140956135), (36.87870706, 35.091841366), (37.544388187, 41.312173892))
            Line((37.544388187, 41.312173892), (39.386551365, 46.933492067))
            ThreePointArc((39.386551365, 46.933492067), (42.351050848, 49.324826449), (45.743599874, 47.593541257))
        make_face(mode=Mode.SUBTRACT)
        with BuildLine():
            Line((-18.345415848, 63.41189018), (18.345415848, 63.41189018))
            ThreePointArc((18.345415848, 63.41189018), (21.541027318, 61.339499136), (20.952320736, 57.576500083))
            Line((20.952320736, 57.576500083), (17.005197982, 53.170480885))
            ThreePointArc((17.005197982, 53.170480885), (11.951072558, 49.483817856), (5.832748462, 48.179295586))
            Line((5.832748462, 48.179295586), (-5.832748462, 48.179295586))
            ThreePointArc((-5.832748462, 48.179295586), (-11.951072558, 49.483817856), (-17.005197983, 53.170480885))
            Line((-17.005197983, 53.170480885), (-20.952320736, 57.576500083))
            ThreePointArc((-20.952320736, 57.576500083), (-21.541027318, 61.339499136), (-18.345415848, 63.41189018))
        make_face(mode=Mode.SUBTRACT)
        with BuildLine():
            Line((-64.089015722, 15.818348923), (-45.743599874, 47.593541257))
            ThreePointArc((-45.743599874, 47.593541257), (-42.351050848, 49.324826449), (-39.386551365, 46.933492067))
            Line((-39.386551365, 46.933492067), (-37.544388187, 41.312173892))
            ThreePointArc((-37.544388187, 41.312173892), (-36.87870706, 35.091841366), (-38.808119683, 29.140956135))
            Line((-38.808119683, 29.140956135), (-44.640868145, 19.038339451))
            ThreePointArc((-44.640868145, 19.038339451), (-48.829779618, 14.39197649), (-54.549586169, 11.858306993))
            Line((-54.549586169, 11.858306993), (-60.338872101, 10.643008016))
            ThreePointArc((-60.338872101, 10.643008016), (-63.892078166, 12.014672686), (-64.089015722, 15.818348923))
        make_face(mode=Mode.SUBTRACT)
        with BuildLine():
            Line((-45.743599874, -47.593541257), (-64.089015722, -15.818348923))
            ThreePointArc((-64.089015722, -15.818348923), (-63.892078166, -12.014672686), (-60.338872101, -10.643008016))
            Line((-60.338872101, -10.643008016), (-54.549586169, -11.858306993))
            ThreePointArc((-54.549586169, -11.858306993), (-48.829779618, -14.39197649), (-44.640868145, -19.038339451))
            Line((-44.640868145, -19.038339451), (-38.808119683, -29.140956135))
            ThreePointArc((-38.808119683, -29.140956135), (-36.87870706, -35.091841366), (-37.544388187, -41.312173892))
            Line((-37.544388187, -41.312173892), (-39.386551365, -46.933492067))
            ThreePointArc((-39.386551365, -46.933492067), (-42.351050848, -49.324826449), (-45.743599874, -47.593541257))
        make_face(mode=Mode.SUBTRACT)
    extrude(amount=BOSS_EXTRUDE1_DEPTH)


solid = part.part
